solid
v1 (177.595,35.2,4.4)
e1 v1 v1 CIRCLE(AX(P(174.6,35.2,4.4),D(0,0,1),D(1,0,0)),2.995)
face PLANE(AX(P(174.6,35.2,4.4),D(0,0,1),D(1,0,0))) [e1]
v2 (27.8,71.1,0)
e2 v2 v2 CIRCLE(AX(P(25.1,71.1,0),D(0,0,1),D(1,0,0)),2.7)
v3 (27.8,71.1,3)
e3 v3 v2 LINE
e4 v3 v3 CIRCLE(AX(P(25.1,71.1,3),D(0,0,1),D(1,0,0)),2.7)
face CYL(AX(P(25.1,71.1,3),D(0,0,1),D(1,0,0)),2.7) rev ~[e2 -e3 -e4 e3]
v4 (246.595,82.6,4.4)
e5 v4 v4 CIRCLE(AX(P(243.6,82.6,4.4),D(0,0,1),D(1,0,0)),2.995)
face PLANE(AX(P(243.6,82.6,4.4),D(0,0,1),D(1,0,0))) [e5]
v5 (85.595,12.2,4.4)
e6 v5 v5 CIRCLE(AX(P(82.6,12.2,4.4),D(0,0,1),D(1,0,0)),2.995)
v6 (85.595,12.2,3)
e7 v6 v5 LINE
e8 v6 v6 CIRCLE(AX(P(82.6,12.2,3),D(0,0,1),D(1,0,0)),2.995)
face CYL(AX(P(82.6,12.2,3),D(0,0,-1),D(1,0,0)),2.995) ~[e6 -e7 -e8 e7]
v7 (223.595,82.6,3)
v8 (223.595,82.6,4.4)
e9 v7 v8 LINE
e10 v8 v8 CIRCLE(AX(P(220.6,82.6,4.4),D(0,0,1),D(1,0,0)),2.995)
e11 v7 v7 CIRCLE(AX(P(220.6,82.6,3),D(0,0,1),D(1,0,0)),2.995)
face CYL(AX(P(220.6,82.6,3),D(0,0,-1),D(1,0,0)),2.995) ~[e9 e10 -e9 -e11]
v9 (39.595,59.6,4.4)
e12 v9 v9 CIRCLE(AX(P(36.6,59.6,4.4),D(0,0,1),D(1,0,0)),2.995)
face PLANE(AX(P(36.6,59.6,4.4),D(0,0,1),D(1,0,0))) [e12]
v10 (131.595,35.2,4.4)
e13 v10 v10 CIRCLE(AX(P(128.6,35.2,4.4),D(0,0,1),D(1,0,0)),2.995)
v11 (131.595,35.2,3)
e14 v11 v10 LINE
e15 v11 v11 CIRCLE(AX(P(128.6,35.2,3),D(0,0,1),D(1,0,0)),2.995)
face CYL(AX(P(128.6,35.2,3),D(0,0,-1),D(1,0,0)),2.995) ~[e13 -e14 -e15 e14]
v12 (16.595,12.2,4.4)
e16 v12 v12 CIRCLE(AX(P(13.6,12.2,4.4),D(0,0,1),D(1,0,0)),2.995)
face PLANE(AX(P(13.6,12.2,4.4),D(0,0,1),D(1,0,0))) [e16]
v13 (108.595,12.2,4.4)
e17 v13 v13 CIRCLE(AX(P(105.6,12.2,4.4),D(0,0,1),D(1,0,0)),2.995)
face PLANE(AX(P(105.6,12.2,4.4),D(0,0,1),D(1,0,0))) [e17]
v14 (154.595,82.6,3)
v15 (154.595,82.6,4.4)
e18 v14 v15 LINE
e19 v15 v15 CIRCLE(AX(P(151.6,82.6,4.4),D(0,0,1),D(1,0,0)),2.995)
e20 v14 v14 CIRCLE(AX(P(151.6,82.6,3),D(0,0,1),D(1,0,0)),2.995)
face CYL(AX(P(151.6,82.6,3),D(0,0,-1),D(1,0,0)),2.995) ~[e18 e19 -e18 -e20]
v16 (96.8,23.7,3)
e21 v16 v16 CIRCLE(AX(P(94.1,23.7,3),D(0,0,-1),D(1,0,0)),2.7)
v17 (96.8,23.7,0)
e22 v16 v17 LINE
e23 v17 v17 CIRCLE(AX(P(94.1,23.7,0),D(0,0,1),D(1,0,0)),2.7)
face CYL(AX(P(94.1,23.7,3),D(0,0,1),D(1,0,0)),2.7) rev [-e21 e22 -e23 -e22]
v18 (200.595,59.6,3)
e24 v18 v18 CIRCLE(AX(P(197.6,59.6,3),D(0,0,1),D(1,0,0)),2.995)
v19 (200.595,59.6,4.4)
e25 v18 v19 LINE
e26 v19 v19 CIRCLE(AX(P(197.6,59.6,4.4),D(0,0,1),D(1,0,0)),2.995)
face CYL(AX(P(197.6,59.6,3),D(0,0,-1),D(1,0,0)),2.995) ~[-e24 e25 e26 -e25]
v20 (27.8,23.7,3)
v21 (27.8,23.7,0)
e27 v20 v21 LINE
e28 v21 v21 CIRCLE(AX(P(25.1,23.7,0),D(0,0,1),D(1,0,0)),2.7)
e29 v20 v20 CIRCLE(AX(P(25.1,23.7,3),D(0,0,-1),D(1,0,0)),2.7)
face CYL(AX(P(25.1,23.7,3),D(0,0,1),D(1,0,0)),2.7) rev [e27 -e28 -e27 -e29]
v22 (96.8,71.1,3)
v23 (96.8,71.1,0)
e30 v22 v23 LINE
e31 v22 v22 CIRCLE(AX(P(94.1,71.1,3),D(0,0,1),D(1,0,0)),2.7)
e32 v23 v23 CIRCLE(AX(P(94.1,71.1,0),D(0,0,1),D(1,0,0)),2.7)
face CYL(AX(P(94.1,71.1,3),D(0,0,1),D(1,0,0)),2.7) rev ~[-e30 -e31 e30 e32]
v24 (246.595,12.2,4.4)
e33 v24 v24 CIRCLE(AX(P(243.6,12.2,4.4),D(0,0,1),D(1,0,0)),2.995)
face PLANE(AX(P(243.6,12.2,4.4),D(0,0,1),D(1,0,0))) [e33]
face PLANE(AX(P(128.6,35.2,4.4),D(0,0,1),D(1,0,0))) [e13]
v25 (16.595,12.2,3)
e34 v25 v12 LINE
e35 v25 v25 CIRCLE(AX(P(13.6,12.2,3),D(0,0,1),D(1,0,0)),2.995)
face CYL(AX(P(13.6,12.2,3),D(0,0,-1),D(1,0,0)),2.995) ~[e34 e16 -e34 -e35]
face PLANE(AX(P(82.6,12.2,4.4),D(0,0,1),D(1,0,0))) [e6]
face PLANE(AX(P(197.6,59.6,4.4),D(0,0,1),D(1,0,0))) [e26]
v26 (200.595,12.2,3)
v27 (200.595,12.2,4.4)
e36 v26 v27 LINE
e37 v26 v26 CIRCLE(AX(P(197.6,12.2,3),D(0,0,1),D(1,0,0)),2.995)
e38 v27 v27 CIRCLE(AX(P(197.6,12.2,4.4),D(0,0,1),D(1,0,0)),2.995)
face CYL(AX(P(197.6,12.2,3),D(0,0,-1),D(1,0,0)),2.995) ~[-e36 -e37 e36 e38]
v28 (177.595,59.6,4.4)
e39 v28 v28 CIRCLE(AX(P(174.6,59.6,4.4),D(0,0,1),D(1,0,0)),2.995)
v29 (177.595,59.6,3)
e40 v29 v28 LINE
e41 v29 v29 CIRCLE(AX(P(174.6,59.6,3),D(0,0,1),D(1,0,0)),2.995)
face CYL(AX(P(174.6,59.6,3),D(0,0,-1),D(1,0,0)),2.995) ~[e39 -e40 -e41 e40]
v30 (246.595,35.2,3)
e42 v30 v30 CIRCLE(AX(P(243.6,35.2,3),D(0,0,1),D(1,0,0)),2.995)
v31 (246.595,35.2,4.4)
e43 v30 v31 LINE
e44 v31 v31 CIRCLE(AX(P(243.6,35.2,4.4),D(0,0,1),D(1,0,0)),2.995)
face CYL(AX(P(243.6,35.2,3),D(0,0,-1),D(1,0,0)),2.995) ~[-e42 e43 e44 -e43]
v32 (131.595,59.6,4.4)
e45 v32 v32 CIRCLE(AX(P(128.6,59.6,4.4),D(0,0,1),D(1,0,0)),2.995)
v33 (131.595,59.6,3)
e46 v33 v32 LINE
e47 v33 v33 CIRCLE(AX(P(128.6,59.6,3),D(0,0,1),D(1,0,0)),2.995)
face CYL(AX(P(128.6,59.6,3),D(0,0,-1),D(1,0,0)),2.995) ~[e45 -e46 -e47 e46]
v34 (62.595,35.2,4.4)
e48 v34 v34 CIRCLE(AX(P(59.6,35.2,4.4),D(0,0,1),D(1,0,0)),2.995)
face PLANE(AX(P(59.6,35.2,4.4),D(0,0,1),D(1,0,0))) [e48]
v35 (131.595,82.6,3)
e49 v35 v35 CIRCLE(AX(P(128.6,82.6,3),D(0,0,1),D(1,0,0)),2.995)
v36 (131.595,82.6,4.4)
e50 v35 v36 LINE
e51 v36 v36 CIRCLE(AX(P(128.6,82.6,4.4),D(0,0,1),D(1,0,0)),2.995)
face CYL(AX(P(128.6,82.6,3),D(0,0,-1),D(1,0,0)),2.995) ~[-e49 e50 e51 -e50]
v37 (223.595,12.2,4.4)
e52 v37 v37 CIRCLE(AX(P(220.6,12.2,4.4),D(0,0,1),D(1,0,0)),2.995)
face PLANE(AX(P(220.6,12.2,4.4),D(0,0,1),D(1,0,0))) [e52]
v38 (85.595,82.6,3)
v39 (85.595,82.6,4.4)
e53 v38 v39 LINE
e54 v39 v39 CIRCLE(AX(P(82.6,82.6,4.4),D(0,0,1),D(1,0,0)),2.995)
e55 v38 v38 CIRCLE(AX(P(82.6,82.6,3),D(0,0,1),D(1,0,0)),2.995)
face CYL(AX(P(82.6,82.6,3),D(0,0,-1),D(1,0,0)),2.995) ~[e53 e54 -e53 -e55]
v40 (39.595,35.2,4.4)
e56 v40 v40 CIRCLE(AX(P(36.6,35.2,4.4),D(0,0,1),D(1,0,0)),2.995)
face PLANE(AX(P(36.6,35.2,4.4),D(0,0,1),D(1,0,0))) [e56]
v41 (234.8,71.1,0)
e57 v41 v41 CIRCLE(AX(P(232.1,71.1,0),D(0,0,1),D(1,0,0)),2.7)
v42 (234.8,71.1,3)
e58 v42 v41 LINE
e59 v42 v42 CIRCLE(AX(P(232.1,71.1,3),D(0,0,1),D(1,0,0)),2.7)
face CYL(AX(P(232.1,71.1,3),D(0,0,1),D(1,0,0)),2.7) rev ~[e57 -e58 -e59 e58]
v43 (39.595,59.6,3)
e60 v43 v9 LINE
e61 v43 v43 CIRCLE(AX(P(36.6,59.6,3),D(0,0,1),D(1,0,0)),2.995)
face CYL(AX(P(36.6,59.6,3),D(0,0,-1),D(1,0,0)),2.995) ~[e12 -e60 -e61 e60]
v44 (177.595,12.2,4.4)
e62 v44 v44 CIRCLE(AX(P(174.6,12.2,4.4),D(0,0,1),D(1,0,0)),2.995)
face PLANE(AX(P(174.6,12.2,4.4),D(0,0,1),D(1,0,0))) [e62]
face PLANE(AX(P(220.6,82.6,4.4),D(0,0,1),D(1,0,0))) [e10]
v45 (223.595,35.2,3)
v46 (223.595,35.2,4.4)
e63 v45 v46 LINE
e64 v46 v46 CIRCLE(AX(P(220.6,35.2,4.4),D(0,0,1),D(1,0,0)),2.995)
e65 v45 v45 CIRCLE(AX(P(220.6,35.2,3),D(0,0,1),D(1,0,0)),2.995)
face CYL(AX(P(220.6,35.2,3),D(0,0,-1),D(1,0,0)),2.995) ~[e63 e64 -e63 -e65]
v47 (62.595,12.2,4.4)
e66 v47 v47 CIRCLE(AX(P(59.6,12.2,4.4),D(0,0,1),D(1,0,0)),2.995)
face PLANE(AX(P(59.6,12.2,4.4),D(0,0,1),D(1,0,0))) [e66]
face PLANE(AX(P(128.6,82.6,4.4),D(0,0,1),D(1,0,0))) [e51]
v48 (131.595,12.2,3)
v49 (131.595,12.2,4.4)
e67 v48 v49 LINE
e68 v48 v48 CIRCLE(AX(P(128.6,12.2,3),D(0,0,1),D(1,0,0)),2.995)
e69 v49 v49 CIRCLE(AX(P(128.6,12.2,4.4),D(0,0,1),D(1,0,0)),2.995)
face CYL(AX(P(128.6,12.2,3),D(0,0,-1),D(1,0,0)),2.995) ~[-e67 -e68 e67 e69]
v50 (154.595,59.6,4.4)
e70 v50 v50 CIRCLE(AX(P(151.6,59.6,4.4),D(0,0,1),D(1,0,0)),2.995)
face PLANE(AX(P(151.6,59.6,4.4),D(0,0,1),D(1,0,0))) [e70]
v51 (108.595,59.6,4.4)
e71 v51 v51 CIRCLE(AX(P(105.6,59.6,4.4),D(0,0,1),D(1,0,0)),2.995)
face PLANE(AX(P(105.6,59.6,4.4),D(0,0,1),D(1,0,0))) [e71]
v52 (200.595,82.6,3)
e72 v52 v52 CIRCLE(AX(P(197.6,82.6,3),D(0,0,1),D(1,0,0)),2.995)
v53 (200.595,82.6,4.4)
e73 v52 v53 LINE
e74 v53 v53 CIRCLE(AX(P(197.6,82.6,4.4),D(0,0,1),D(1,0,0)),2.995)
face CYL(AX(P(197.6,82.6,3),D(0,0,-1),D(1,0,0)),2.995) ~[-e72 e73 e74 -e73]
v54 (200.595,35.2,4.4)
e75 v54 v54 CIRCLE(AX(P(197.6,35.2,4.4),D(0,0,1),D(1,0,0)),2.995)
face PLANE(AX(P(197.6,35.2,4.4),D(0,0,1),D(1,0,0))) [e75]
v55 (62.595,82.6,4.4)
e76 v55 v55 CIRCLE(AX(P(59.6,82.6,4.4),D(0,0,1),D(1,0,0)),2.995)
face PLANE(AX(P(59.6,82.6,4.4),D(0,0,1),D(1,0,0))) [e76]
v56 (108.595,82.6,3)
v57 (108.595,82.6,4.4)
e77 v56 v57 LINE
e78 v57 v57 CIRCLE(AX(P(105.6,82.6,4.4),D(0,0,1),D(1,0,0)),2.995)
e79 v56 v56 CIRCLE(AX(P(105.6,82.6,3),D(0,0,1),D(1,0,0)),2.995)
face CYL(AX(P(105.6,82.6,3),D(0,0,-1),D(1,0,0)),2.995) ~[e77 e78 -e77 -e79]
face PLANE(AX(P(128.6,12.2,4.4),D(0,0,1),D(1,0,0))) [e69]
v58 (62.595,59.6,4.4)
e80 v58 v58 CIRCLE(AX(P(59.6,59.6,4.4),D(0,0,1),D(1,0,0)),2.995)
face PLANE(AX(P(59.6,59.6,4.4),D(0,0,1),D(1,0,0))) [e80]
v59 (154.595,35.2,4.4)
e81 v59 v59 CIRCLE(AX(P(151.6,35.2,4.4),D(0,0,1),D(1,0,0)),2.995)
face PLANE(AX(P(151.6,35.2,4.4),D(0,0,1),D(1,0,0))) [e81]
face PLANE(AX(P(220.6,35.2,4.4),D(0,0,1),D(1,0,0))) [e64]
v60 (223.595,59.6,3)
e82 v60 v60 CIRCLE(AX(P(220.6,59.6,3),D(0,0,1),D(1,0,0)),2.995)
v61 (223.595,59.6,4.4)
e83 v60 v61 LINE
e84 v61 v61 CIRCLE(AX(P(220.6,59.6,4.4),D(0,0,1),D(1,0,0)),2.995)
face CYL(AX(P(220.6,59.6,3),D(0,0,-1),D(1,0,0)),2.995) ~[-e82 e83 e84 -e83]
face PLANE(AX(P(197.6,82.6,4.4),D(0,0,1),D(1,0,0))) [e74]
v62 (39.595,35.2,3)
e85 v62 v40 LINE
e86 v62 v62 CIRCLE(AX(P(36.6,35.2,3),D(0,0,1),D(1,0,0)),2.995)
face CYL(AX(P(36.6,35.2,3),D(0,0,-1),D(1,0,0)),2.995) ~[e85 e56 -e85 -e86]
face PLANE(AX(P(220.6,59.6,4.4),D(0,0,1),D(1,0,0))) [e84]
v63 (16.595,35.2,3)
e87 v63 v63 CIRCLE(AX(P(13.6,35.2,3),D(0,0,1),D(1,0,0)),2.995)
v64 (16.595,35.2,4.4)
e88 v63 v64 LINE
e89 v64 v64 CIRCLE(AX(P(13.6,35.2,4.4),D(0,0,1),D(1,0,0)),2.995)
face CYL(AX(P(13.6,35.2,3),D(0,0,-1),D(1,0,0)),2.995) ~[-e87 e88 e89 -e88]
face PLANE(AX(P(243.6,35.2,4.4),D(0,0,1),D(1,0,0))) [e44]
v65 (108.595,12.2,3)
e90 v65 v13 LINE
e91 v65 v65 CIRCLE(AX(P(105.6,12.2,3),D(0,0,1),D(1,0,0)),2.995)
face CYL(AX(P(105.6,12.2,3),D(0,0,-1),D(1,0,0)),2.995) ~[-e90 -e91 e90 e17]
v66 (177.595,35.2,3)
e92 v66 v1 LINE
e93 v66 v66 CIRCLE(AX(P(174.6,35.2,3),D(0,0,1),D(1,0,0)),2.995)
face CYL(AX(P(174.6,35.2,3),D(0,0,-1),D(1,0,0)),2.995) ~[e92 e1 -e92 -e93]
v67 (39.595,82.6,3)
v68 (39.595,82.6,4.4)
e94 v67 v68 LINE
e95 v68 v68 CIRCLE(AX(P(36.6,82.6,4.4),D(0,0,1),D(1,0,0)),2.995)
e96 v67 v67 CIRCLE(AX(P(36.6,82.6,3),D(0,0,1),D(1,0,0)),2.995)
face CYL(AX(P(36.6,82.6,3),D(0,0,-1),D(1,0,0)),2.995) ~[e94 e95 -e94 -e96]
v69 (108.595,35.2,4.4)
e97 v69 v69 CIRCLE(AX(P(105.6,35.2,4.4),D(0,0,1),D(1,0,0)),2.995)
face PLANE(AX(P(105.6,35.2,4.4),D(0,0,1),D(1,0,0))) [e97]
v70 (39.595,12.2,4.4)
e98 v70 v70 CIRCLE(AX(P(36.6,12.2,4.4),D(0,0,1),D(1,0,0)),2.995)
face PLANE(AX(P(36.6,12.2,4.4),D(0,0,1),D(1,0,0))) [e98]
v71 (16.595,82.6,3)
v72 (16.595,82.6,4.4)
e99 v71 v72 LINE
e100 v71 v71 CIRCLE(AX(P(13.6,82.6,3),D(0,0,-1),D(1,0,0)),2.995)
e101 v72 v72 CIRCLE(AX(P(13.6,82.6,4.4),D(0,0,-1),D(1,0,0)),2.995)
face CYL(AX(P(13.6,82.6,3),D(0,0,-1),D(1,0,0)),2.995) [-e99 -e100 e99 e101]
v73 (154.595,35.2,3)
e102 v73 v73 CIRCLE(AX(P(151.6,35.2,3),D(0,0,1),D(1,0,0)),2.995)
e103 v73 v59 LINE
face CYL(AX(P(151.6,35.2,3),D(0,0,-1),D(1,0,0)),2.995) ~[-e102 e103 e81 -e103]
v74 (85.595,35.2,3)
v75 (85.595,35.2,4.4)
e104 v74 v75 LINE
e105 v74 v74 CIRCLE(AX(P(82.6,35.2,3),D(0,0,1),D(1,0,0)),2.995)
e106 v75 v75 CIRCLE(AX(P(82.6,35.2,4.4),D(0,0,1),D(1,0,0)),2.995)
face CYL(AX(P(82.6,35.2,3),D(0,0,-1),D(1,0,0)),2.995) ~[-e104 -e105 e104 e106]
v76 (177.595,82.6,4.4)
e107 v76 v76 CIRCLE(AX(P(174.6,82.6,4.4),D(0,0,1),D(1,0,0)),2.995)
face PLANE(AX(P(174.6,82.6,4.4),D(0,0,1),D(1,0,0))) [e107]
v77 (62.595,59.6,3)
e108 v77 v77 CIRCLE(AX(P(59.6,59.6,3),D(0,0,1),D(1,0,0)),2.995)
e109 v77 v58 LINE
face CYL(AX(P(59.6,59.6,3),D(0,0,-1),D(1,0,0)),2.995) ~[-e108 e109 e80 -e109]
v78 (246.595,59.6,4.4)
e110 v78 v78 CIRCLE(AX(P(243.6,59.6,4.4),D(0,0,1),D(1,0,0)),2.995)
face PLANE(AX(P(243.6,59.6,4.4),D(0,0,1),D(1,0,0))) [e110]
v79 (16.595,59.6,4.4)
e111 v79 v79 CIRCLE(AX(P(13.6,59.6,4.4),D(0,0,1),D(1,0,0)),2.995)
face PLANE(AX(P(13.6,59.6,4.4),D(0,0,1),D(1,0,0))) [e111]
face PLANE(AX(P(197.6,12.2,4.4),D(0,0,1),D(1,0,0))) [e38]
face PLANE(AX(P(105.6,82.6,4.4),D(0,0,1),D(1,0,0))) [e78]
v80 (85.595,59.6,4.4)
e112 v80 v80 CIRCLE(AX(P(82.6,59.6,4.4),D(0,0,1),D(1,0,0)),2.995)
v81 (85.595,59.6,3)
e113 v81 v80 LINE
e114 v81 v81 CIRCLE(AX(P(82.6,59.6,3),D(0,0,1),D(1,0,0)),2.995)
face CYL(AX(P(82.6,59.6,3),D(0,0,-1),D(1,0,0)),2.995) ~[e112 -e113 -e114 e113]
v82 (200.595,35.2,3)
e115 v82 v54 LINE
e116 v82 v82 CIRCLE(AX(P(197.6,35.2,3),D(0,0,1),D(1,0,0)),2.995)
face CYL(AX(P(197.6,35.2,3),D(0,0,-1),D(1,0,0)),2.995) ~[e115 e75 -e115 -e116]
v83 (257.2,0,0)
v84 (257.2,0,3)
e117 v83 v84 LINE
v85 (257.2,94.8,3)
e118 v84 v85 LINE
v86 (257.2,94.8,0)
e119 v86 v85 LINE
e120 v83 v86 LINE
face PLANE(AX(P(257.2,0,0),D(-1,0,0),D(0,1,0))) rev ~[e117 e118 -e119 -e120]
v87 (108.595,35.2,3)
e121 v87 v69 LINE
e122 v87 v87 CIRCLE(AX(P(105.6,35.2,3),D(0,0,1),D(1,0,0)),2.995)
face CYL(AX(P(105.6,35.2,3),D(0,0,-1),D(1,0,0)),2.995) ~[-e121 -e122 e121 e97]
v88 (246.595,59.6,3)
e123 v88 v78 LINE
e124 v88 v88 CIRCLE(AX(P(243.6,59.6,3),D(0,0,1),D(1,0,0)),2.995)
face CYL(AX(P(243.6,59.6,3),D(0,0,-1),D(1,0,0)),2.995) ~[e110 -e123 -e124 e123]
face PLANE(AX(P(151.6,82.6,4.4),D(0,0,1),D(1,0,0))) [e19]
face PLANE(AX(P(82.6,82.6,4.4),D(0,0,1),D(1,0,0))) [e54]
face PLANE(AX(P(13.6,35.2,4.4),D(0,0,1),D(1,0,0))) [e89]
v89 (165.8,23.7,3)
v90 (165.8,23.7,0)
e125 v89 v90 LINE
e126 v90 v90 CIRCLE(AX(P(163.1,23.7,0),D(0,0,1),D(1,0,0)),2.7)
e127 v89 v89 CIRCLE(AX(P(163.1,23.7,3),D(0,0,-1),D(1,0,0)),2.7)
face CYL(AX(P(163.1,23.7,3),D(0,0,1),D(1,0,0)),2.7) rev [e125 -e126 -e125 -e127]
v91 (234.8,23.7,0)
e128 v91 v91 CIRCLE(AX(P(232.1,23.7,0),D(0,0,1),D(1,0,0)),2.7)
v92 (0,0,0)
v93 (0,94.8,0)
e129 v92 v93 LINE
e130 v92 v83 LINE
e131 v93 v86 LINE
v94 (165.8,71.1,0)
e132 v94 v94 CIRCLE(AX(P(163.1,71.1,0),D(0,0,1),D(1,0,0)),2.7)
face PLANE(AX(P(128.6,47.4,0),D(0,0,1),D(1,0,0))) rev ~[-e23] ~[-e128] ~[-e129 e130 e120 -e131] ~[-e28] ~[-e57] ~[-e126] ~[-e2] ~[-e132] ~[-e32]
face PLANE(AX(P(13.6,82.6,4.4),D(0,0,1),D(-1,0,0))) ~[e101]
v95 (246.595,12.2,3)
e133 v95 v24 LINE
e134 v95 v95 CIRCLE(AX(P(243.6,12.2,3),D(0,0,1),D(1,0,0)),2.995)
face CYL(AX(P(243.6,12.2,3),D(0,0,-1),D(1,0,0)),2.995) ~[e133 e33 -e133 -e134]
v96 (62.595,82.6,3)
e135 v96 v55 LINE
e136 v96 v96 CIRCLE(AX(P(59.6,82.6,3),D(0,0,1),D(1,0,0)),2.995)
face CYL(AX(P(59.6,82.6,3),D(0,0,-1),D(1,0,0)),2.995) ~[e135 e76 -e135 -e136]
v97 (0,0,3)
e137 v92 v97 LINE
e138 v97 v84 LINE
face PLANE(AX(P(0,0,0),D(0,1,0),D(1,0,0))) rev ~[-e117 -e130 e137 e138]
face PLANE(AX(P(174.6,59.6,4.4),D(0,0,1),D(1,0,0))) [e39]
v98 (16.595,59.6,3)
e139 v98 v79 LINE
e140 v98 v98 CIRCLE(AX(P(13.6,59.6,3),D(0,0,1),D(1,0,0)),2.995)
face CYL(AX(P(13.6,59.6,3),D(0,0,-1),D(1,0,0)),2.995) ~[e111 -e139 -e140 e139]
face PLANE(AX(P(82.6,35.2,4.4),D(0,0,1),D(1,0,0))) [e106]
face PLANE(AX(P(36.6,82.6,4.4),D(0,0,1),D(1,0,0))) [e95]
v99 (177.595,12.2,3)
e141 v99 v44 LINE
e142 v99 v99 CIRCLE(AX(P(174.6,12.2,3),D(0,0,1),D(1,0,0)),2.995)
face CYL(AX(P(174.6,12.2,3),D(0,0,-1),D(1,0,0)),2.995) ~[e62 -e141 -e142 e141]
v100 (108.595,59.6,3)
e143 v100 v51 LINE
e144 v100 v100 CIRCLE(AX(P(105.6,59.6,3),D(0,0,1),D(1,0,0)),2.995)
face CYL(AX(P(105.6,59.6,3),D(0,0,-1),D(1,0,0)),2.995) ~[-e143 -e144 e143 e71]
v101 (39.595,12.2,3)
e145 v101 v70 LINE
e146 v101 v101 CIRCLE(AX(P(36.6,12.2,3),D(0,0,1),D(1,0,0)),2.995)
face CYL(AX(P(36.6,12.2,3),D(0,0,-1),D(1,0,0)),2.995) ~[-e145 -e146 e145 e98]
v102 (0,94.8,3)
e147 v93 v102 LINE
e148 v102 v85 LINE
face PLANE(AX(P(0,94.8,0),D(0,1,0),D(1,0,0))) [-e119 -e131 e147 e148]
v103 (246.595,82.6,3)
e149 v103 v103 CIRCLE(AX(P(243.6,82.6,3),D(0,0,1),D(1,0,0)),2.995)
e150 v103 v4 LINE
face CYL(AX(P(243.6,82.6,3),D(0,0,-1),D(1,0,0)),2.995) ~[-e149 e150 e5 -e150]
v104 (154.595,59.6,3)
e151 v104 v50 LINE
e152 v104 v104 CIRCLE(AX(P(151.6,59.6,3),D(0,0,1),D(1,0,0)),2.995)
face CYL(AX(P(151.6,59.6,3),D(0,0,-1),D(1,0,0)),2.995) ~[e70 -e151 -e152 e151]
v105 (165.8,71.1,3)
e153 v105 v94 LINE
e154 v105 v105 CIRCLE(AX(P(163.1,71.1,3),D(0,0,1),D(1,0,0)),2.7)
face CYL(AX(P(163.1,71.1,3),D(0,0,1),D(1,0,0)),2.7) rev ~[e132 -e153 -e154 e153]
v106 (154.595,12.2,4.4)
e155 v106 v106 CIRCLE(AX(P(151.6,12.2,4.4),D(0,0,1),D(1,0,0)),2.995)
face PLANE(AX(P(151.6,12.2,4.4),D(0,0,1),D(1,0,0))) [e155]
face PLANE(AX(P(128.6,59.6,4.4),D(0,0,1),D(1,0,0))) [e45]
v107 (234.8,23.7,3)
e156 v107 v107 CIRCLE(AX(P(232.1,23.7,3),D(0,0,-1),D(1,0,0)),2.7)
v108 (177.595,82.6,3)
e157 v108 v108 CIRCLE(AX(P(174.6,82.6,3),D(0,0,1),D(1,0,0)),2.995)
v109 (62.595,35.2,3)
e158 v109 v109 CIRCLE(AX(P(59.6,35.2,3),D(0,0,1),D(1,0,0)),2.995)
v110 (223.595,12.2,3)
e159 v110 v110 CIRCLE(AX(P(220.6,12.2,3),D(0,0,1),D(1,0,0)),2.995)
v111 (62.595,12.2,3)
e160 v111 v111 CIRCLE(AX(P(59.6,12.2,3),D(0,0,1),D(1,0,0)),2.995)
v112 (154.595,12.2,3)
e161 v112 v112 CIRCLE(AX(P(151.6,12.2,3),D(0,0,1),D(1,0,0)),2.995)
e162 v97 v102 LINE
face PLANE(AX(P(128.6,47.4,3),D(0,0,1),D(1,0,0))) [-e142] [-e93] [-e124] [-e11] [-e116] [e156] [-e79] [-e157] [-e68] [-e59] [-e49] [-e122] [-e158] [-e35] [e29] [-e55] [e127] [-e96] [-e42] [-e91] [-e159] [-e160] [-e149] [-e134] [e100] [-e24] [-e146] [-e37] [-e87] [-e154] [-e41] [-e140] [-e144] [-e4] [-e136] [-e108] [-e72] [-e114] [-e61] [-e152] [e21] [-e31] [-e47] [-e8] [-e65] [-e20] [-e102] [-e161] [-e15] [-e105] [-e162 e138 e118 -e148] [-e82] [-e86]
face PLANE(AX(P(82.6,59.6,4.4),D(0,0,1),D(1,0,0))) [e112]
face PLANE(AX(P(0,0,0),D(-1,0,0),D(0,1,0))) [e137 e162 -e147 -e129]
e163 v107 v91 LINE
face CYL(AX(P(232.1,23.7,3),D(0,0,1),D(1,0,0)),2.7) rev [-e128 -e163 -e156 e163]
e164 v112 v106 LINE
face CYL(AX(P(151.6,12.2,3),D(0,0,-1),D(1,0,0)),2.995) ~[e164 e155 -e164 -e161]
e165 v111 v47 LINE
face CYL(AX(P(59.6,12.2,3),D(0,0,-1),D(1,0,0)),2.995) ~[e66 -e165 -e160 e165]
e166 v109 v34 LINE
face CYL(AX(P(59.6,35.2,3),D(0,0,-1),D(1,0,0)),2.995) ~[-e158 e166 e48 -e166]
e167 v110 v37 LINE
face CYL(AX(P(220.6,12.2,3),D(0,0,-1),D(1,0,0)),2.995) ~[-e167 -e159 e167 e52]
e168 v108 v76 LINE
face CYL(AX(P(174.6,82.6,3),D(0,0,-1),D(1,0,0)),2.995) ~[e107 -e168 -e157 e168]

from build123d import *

# Parameters (mm, degrees)
SKETCH1_W                = 257.2
SKETCH1_H                = 94.8
BOSS_EXTRUDE1_DEPTH      = 3
SKETCH2_R                = 2.995
BOSS_EXTRUDE2_DEPTH      = 1.4
LPATTERN1_COUNT          = 2
LPATTERN1_PITCH          = 23
LPATTERN1_COUNT_DIR2     = 11
LPATTERN1_PITCH_DIR2     = 23
MIRROR4_COPY_1_SKETCH_R  = 2.995
MIRROR4_COPY_1_DEPTH     = 1.4
MIRROR4_COPY_2_SKETCH_R  = 2.995
MIRROR4_COPY_2_DEPTH     = 1.4
MIRROR4_COPY_3_SKETCH_R  = 2.995
MIRROR4_COPY_3_DEPTH     = 1.4
MIRROR4_COPY_4_SKETCH_R  = 2.995
MIRROR4_COPY_4_DEPTH     = 1.4
MIRROR4_COPY_5_SKETCH_R  = 2.995
MIRROR4_COPY_5_DEPTH     = 1.4
MIRROR4_COPY_6_SKETCH_R  = 2.995
MIRROR4_COPY_6_DEPTH     = 1.4
MIRROR4_COPY_7_SKETCH_R  = 2.995
MIRROR4_COPY_7_DEPTH     = 1.4
MIRROR4_COPY_8_SKETCH_R  = 2.995
MIRROR4_COPY_8_DEPTH     = 1.4
MIRROR4_COPY_9_SKETCH_R  = 2.995
MIRROR4_COPY_9_DEPTH     = 1.4
MIRROR4_COPY_10_SKETCH_R = 2.995
MIRROR4_COPY_10_DEPTH    = 1.4
MIRROR4_COPY_11_SKETCH_R = 2.995
MIRROR4_COPY_11_DEPTH    = 1.4
MIRROR4_COPY_12_SKETCH_R = 2.995
MIRROR4_COPY_12_DEPTH    = 1.4
MIRROR4_COPY_13_SKETCH_R = 2.995
MIRROR4_COPY_13_DEPTH    = 1.4
MIRROR4_COPY_14_SKETCH_R = 2.995
MIRROR4_COPY_14_DEPTH    = 1.4
MIRROR4_COPY_15_SKETCH_R = 2.995
MIRROR4_COPY_15_DEPTH    = 1.4
MIRROR4_COPY_16_SKETCH_R = 2.995
MIRROR4_COPY_16_DEPTH    = 1.4
MIRROR4_COPY_17_SKETCH_R = 2.995
MIRROR4_COPY_17_DEPTH    = 1.4
MIRROR4_COPY_18_SKETCH_R = 2.995
MIRROR4_COPY_18_DEPTH    = 1.4
MIRROR4_COPY_19_SKETCH_R = 2.995
MIRROR4_COPY_19_DEPTH    = 1.4
MIRROR4_COPY_20_SKETCH_R = 2.995
MIRROR4_COPY_20_DEPTH    = 1.4
MIRROR4_COPY_21_SKETCH_R = 2.995
MIRROR4_COPY_21_DEPTH    = 1.4
SKETCH3_R                = 2.7
CUT_EXTRUDE1_DEPTH       = 275.131136502


with BuildPart() as part:
    # Sketch1 → Boss-Extrude1 (new body)
    with BuildSketch(Plane.XY):
        with Locations((128.6, 47.4)):
            Rectangle(SKETCH1_W, SKETCH1_H)
    extrude(amount=BOSS_EXTRUDE1_DEPTH)

    # Sketch2 → Boss-Extrude2 (add)
    with BuildSketch(Plane.XY.offset(3)):
        with Locations((13.6, 12.2)):
            Circle(SKETCH2_R)
    boss_extrude2 = extrude(amount=BOSS_EXTRUDE2_DEPTH)

    # LPattern1: Boss-Extrude2 2 × 11
    with Locations(*[(j * LPATTERN1_PITCH_DIR2, i * LPATTERN1_PITCH, 0) for i in range(LPATTERN1_COUNT) for j in range(LPATTERN1_COUNT_DIR2) if (i, j) != (0, 0)]):
        add(boss_extrude2)

    # Mirror4: Boss-Extrude2 across plane
    add(boss_extrude2.mirror(Plane(origin=(0, 47.4, 0), x_dir=(0, 0, 1), z_dir=(0, -1, 0))))

    # Mirror4 copy 1 sketch → Mirror4 copy 1 (add)
    with BuildSketch(Plane(origin=(23, 94.8, 3), x_dir=(1, 0, 0), z_dir=(0, 0, 1))):
        with Locations((13.6, -12.2)):
            Circle(MIRROR4_COPY_1_SKETCH_R)
    extrude(amount=MIRROR4_COPY_1_DEPTH)

    # Mirror4 copy 2 sketch → Mirror4 copy 2 (add)
    with BuildSketch(Plane(origin=(46, 94.8, 3), x_dir=(1, 0, 0), z_dir=(0, 0, 1))):
        with Locations((13.6, -12.2)):
            Circle(MIRROR4_COPY_2_SKETCH_R)
    extrude(amount=MIRROR4_COPY_2_DEPTH)

    # Mirror4 copy 3 sketch → Mirror4 copy 3 (add)
    with BuildSketch(Plane(origin=(69, 94.8, 3), x_dir=(1, 0, 0), z_dir=(0, 0, 1))):
        with Locations((13.6, -12.2)):
            Circle(MIRROR4_COPY_3_SKETCH_R)
    extrude(amount=MIRROR4_COPY_3_DEPTH)

    # Mirror4 copy 4 sketch → Mirror4 copy 4 (add)
    with BuildSketch(Plane(origin=(92, 94.8, 3), x_dir=(1, 0, 0), z_dir=(0, 0, 1))):
        with Locations((13.6, -12.2)):
            Circle(MIRROR4_COPY_4_SKETCH_R)
    extrude(amount=MIRROR4_COPY_4_DEPTH)

    # Mirror4 copy 5 sketch → Mirror4 copy 5 (add)
    with BuildSketch(Plane(origin=(115, 94.8, 3), x_dir=(1, 0, 0), z_dir=(0, 0, 1))):
        with Locations((13.6, -12.2)):
            Circle(MIRROR4_COPY_5_SKETCH_R)
    extrude(amount=MIRROR4_COPY_5_DEPTH)

    # Mirror4 copy 6 sketch → Mirror4 copy 6 (add)
    with BuildSketch(Plane(origin=(138, 94.8, 3), x_dir=(1, 0, 0), z_dir=(0, 0, 1))):
        with Locations((13.6, -12.2)):
            Circle(MIRROR4_COPY_6_SKETCH_R)
    extrude(amount=MIRROR4_COPY_6_DEPTH)

    # Mirror4 copy 7 sketch → Mirror4 copy 7 (add)
    with BuildSketch(Plane(origin=(161, 94.8, 3), x_dir=(1, 0, 0), z_dir=(0, 0, 1))):
        with Locations((13.6, -12.2)):
            Circle(MIRROR4_COPY_7_SKETCH_R)
    extrude(amount=MIRROR4_COPY_7_DEPTH)

    # Mirror4 copy 8 sketch → Mirror4 copy 8 (add)
    with BuildSketch(Plane(origin=(184, 94.8, 3), x_dir=(1, 0, 0), z_dir=(0, 0, 1))):
        with Locations((13.6, -12.2)):
            Circle(MIRROR4_COPY_8_SKETCH_R)
    extrude(amount=MIRROR4_COPY_8_DEPTH)

    # Mirror4 copy 9 sketch → Mirror4 copy 9 (add)
    with BuildSketch(Plane(origin=(207, 94.8, 3), x_dir=(1, 0, 0), z_dir=(0, 0, 1))):
        with Locations((13.6, -12.2)):
            Circle(MIRROR4_COPY_9_SKETCH_R)
    extrude(amount=MIRROR4_COPY_9_DEPTH)

    # Mirror4 copy 10 sketch → Mirror4 copy 10 (add)
    with BuildSketch(Plane(origin=(230, 94.8, 3), x_dir=(1, 0, 0), z_dir=(0, 0, 1))):
        with Locations((13.6, -12.2)):
            Circle(MIRROR4_COPY_10_SKETCH_R)
    extrude(amount=MIRROR4_COPY_10_DEPTH)

    # Mirror4 copy 11 sketch → Mirror4 copy 11 (add)
    with BuildSketch(Plane(origin=(0, 71.8, 3), x_dir=(1, 0, 0), z_dir=(0, 0, 1))):
        with Locations((13.6, -12.2)):
            Circle(MIRROR4_COPY_11_SKETCH_R)
    extrude(amount=MIRROR4_COPY_11_DEPTH)

    # Mirror4 copy 12 sketch → Mirror4 copy 12 (add)
    with BuildSketch(Plane(origin=(23, 71.8, 3), x_dir=(1, 0, 0), z_dir=(0, 0, 1))):
        with Locations((13.6, -12.2)):
            Circle(MIRROR4_COPY_12_SKETCH_R)
    extrude(amount=MIRROR4_COPY_12_DEPTH)

    # Mirror4 copy 13 sketch → Mirror4 copy 13 (add)
    with BuildSketch(Plane(origin=(46, 71.8, 3), x_dir=(1, 0, 0), z_dir=(0, 0, 1))):
        with Locations((13.6, -12.2)):
            Circle(MIRROR4_COPY_13_SKETCH_R)
    extrude(amount=MIRROR4_COPY_13_DEPTH)

    # Mirror4 copy 14 sketch → Mirror4 copy 14 (add)
    with BuildSketch(Plane(origin=(69, 71.8, 3), x_dir=(1, 0, 0), z_dir=(0, 0, 1))):
        with Locations((13.6, -12.2)):
            Circle(MIRROR4_COPY_14_SKETCH_R)
    extrude(amount=MIRROR4_COPY_14_DEPTH)

    # Mirror4 copy 15 sketch → Mirror4 copy 15 (add)
    with BuildSketch(Plane(origin=(92, 71.8, 3), x_dir=(1, 0, 0), z_dir=(0, 0, 1))):
        with Locations((13.6, -12.2)):
            Circle(MIRROR4_COPY_15_SKETCH_R)
    extrude(amount=MIRROR4_COPY_15_DEPTH)

    # Mirror4 copy 16 sketch → Mirror4 copy 16 (add)
    with BuildSketch(Plane(origin=(115, 71.8, 3), x_dir=(1, 0, 0), z_dir=(0, 0, 1))):
        with Locations((13.6, -12.2)):
            Circle(MIRROR4_COPY_16_SKETCH_R)
    extrude(amount=MIRROR4_COPY_16_DEPTH)

    # Mirror4 copy 17 sketch → Mirror4 copy 17 (add)
    with BuildSketch(Plane(origin=(138, 71.8, 3), x_dir=(1, 0, 0), z_dir=(0, 0, 1))):
        with Locations((13.6, -12.2)):
            Circle(MIRROR4_COPY_17_SKETCH_R)
    extrude(amount=MIRROR4_COPY_17_DEPTH)

    # Mirror4 copy 18 sketch → Mirror4 copy 18 (add)
    with BuildSketch(Plane(origin=(161, 71.8, 3), x_dir=(1, 0, 0), z_dir=(0, 0, 1))):
        with Locations((13.6, -12.2)):
            Circle(MIRROR4_COPY_18_SKETCH_R)
    extrude(amount=MIRROR4_COPY_18_DEPTH)

    # Mirror4 copy 19 sketch → Mirror4 copy 19 (add)
    with BuildSketch(Plane(origin=(184, 71.8, 3), x_dir=(1, 0, 0), z_dir=(0, 0, 1))):
        with Locations((13.6, -12.2)):
            Circle(MIRROR4_COPY_19_SKETCH_R)
    extrude(amount=MIRROR4_COPY_19_DEPTH)

    # Mirror4 copy 20 sketch → Mirror4 copy 20 (add)
    with BuildSketch(Plane(origin=(207, 71.8, 3), x_dir=(1, 0, 0), z_dir=(0, 0, 1))):
        with Locations((13.6, -12.2)):
            Circle(MIRROR4_COPY_20_SKETCH_R)
    extrude(amount=MIRROR4_COPY_20_DEPTH)

    # Mirror4 copy 21 sketch → Mirror4 copy 21 (add)
    with BuildSketch(Plane(origin=(230, 71.8, 3), x_dir=(1, 0, 0), z_dir=(0, 0, 1))):
        with Locations((13.6, -12.2)):
            Circle(MIRROR4_COPY_21_SKETCH_R)
    extrude(amount=MIRROR4_COPY_21_DEPTH)

    # Sketch3 → Cut-Extrude1 (cut, through all)
    with BuildSketch(Plane.XY.offset(3)):
        with Locations((25.1, 71.1)):
            Circle(SKETCH3_R)
        with Locations((94.1, 71.1)):
            Circle(SKETCH3_R)
        with Locations((163.1, 71.1)):
            Circle(SKETCH3_R)
        with Locations((232.1, 71.1)):
            Circle(SKETCH3_R)
    cut_extrude1 = extrude(amount=-CUT_EXTRUDE1_DEPTH, mode=Mode.SUBTRACT)

    # Mirror3: Cut-Extrude1 across plane
    add(cut_extrude1.mirror(Plane(origin=(0, 47.4, 0), x_dir=(0, 0, 1), z_dir=(0, -1, 0))), mode=Mode.SUBTRACT)


solid = part.part
